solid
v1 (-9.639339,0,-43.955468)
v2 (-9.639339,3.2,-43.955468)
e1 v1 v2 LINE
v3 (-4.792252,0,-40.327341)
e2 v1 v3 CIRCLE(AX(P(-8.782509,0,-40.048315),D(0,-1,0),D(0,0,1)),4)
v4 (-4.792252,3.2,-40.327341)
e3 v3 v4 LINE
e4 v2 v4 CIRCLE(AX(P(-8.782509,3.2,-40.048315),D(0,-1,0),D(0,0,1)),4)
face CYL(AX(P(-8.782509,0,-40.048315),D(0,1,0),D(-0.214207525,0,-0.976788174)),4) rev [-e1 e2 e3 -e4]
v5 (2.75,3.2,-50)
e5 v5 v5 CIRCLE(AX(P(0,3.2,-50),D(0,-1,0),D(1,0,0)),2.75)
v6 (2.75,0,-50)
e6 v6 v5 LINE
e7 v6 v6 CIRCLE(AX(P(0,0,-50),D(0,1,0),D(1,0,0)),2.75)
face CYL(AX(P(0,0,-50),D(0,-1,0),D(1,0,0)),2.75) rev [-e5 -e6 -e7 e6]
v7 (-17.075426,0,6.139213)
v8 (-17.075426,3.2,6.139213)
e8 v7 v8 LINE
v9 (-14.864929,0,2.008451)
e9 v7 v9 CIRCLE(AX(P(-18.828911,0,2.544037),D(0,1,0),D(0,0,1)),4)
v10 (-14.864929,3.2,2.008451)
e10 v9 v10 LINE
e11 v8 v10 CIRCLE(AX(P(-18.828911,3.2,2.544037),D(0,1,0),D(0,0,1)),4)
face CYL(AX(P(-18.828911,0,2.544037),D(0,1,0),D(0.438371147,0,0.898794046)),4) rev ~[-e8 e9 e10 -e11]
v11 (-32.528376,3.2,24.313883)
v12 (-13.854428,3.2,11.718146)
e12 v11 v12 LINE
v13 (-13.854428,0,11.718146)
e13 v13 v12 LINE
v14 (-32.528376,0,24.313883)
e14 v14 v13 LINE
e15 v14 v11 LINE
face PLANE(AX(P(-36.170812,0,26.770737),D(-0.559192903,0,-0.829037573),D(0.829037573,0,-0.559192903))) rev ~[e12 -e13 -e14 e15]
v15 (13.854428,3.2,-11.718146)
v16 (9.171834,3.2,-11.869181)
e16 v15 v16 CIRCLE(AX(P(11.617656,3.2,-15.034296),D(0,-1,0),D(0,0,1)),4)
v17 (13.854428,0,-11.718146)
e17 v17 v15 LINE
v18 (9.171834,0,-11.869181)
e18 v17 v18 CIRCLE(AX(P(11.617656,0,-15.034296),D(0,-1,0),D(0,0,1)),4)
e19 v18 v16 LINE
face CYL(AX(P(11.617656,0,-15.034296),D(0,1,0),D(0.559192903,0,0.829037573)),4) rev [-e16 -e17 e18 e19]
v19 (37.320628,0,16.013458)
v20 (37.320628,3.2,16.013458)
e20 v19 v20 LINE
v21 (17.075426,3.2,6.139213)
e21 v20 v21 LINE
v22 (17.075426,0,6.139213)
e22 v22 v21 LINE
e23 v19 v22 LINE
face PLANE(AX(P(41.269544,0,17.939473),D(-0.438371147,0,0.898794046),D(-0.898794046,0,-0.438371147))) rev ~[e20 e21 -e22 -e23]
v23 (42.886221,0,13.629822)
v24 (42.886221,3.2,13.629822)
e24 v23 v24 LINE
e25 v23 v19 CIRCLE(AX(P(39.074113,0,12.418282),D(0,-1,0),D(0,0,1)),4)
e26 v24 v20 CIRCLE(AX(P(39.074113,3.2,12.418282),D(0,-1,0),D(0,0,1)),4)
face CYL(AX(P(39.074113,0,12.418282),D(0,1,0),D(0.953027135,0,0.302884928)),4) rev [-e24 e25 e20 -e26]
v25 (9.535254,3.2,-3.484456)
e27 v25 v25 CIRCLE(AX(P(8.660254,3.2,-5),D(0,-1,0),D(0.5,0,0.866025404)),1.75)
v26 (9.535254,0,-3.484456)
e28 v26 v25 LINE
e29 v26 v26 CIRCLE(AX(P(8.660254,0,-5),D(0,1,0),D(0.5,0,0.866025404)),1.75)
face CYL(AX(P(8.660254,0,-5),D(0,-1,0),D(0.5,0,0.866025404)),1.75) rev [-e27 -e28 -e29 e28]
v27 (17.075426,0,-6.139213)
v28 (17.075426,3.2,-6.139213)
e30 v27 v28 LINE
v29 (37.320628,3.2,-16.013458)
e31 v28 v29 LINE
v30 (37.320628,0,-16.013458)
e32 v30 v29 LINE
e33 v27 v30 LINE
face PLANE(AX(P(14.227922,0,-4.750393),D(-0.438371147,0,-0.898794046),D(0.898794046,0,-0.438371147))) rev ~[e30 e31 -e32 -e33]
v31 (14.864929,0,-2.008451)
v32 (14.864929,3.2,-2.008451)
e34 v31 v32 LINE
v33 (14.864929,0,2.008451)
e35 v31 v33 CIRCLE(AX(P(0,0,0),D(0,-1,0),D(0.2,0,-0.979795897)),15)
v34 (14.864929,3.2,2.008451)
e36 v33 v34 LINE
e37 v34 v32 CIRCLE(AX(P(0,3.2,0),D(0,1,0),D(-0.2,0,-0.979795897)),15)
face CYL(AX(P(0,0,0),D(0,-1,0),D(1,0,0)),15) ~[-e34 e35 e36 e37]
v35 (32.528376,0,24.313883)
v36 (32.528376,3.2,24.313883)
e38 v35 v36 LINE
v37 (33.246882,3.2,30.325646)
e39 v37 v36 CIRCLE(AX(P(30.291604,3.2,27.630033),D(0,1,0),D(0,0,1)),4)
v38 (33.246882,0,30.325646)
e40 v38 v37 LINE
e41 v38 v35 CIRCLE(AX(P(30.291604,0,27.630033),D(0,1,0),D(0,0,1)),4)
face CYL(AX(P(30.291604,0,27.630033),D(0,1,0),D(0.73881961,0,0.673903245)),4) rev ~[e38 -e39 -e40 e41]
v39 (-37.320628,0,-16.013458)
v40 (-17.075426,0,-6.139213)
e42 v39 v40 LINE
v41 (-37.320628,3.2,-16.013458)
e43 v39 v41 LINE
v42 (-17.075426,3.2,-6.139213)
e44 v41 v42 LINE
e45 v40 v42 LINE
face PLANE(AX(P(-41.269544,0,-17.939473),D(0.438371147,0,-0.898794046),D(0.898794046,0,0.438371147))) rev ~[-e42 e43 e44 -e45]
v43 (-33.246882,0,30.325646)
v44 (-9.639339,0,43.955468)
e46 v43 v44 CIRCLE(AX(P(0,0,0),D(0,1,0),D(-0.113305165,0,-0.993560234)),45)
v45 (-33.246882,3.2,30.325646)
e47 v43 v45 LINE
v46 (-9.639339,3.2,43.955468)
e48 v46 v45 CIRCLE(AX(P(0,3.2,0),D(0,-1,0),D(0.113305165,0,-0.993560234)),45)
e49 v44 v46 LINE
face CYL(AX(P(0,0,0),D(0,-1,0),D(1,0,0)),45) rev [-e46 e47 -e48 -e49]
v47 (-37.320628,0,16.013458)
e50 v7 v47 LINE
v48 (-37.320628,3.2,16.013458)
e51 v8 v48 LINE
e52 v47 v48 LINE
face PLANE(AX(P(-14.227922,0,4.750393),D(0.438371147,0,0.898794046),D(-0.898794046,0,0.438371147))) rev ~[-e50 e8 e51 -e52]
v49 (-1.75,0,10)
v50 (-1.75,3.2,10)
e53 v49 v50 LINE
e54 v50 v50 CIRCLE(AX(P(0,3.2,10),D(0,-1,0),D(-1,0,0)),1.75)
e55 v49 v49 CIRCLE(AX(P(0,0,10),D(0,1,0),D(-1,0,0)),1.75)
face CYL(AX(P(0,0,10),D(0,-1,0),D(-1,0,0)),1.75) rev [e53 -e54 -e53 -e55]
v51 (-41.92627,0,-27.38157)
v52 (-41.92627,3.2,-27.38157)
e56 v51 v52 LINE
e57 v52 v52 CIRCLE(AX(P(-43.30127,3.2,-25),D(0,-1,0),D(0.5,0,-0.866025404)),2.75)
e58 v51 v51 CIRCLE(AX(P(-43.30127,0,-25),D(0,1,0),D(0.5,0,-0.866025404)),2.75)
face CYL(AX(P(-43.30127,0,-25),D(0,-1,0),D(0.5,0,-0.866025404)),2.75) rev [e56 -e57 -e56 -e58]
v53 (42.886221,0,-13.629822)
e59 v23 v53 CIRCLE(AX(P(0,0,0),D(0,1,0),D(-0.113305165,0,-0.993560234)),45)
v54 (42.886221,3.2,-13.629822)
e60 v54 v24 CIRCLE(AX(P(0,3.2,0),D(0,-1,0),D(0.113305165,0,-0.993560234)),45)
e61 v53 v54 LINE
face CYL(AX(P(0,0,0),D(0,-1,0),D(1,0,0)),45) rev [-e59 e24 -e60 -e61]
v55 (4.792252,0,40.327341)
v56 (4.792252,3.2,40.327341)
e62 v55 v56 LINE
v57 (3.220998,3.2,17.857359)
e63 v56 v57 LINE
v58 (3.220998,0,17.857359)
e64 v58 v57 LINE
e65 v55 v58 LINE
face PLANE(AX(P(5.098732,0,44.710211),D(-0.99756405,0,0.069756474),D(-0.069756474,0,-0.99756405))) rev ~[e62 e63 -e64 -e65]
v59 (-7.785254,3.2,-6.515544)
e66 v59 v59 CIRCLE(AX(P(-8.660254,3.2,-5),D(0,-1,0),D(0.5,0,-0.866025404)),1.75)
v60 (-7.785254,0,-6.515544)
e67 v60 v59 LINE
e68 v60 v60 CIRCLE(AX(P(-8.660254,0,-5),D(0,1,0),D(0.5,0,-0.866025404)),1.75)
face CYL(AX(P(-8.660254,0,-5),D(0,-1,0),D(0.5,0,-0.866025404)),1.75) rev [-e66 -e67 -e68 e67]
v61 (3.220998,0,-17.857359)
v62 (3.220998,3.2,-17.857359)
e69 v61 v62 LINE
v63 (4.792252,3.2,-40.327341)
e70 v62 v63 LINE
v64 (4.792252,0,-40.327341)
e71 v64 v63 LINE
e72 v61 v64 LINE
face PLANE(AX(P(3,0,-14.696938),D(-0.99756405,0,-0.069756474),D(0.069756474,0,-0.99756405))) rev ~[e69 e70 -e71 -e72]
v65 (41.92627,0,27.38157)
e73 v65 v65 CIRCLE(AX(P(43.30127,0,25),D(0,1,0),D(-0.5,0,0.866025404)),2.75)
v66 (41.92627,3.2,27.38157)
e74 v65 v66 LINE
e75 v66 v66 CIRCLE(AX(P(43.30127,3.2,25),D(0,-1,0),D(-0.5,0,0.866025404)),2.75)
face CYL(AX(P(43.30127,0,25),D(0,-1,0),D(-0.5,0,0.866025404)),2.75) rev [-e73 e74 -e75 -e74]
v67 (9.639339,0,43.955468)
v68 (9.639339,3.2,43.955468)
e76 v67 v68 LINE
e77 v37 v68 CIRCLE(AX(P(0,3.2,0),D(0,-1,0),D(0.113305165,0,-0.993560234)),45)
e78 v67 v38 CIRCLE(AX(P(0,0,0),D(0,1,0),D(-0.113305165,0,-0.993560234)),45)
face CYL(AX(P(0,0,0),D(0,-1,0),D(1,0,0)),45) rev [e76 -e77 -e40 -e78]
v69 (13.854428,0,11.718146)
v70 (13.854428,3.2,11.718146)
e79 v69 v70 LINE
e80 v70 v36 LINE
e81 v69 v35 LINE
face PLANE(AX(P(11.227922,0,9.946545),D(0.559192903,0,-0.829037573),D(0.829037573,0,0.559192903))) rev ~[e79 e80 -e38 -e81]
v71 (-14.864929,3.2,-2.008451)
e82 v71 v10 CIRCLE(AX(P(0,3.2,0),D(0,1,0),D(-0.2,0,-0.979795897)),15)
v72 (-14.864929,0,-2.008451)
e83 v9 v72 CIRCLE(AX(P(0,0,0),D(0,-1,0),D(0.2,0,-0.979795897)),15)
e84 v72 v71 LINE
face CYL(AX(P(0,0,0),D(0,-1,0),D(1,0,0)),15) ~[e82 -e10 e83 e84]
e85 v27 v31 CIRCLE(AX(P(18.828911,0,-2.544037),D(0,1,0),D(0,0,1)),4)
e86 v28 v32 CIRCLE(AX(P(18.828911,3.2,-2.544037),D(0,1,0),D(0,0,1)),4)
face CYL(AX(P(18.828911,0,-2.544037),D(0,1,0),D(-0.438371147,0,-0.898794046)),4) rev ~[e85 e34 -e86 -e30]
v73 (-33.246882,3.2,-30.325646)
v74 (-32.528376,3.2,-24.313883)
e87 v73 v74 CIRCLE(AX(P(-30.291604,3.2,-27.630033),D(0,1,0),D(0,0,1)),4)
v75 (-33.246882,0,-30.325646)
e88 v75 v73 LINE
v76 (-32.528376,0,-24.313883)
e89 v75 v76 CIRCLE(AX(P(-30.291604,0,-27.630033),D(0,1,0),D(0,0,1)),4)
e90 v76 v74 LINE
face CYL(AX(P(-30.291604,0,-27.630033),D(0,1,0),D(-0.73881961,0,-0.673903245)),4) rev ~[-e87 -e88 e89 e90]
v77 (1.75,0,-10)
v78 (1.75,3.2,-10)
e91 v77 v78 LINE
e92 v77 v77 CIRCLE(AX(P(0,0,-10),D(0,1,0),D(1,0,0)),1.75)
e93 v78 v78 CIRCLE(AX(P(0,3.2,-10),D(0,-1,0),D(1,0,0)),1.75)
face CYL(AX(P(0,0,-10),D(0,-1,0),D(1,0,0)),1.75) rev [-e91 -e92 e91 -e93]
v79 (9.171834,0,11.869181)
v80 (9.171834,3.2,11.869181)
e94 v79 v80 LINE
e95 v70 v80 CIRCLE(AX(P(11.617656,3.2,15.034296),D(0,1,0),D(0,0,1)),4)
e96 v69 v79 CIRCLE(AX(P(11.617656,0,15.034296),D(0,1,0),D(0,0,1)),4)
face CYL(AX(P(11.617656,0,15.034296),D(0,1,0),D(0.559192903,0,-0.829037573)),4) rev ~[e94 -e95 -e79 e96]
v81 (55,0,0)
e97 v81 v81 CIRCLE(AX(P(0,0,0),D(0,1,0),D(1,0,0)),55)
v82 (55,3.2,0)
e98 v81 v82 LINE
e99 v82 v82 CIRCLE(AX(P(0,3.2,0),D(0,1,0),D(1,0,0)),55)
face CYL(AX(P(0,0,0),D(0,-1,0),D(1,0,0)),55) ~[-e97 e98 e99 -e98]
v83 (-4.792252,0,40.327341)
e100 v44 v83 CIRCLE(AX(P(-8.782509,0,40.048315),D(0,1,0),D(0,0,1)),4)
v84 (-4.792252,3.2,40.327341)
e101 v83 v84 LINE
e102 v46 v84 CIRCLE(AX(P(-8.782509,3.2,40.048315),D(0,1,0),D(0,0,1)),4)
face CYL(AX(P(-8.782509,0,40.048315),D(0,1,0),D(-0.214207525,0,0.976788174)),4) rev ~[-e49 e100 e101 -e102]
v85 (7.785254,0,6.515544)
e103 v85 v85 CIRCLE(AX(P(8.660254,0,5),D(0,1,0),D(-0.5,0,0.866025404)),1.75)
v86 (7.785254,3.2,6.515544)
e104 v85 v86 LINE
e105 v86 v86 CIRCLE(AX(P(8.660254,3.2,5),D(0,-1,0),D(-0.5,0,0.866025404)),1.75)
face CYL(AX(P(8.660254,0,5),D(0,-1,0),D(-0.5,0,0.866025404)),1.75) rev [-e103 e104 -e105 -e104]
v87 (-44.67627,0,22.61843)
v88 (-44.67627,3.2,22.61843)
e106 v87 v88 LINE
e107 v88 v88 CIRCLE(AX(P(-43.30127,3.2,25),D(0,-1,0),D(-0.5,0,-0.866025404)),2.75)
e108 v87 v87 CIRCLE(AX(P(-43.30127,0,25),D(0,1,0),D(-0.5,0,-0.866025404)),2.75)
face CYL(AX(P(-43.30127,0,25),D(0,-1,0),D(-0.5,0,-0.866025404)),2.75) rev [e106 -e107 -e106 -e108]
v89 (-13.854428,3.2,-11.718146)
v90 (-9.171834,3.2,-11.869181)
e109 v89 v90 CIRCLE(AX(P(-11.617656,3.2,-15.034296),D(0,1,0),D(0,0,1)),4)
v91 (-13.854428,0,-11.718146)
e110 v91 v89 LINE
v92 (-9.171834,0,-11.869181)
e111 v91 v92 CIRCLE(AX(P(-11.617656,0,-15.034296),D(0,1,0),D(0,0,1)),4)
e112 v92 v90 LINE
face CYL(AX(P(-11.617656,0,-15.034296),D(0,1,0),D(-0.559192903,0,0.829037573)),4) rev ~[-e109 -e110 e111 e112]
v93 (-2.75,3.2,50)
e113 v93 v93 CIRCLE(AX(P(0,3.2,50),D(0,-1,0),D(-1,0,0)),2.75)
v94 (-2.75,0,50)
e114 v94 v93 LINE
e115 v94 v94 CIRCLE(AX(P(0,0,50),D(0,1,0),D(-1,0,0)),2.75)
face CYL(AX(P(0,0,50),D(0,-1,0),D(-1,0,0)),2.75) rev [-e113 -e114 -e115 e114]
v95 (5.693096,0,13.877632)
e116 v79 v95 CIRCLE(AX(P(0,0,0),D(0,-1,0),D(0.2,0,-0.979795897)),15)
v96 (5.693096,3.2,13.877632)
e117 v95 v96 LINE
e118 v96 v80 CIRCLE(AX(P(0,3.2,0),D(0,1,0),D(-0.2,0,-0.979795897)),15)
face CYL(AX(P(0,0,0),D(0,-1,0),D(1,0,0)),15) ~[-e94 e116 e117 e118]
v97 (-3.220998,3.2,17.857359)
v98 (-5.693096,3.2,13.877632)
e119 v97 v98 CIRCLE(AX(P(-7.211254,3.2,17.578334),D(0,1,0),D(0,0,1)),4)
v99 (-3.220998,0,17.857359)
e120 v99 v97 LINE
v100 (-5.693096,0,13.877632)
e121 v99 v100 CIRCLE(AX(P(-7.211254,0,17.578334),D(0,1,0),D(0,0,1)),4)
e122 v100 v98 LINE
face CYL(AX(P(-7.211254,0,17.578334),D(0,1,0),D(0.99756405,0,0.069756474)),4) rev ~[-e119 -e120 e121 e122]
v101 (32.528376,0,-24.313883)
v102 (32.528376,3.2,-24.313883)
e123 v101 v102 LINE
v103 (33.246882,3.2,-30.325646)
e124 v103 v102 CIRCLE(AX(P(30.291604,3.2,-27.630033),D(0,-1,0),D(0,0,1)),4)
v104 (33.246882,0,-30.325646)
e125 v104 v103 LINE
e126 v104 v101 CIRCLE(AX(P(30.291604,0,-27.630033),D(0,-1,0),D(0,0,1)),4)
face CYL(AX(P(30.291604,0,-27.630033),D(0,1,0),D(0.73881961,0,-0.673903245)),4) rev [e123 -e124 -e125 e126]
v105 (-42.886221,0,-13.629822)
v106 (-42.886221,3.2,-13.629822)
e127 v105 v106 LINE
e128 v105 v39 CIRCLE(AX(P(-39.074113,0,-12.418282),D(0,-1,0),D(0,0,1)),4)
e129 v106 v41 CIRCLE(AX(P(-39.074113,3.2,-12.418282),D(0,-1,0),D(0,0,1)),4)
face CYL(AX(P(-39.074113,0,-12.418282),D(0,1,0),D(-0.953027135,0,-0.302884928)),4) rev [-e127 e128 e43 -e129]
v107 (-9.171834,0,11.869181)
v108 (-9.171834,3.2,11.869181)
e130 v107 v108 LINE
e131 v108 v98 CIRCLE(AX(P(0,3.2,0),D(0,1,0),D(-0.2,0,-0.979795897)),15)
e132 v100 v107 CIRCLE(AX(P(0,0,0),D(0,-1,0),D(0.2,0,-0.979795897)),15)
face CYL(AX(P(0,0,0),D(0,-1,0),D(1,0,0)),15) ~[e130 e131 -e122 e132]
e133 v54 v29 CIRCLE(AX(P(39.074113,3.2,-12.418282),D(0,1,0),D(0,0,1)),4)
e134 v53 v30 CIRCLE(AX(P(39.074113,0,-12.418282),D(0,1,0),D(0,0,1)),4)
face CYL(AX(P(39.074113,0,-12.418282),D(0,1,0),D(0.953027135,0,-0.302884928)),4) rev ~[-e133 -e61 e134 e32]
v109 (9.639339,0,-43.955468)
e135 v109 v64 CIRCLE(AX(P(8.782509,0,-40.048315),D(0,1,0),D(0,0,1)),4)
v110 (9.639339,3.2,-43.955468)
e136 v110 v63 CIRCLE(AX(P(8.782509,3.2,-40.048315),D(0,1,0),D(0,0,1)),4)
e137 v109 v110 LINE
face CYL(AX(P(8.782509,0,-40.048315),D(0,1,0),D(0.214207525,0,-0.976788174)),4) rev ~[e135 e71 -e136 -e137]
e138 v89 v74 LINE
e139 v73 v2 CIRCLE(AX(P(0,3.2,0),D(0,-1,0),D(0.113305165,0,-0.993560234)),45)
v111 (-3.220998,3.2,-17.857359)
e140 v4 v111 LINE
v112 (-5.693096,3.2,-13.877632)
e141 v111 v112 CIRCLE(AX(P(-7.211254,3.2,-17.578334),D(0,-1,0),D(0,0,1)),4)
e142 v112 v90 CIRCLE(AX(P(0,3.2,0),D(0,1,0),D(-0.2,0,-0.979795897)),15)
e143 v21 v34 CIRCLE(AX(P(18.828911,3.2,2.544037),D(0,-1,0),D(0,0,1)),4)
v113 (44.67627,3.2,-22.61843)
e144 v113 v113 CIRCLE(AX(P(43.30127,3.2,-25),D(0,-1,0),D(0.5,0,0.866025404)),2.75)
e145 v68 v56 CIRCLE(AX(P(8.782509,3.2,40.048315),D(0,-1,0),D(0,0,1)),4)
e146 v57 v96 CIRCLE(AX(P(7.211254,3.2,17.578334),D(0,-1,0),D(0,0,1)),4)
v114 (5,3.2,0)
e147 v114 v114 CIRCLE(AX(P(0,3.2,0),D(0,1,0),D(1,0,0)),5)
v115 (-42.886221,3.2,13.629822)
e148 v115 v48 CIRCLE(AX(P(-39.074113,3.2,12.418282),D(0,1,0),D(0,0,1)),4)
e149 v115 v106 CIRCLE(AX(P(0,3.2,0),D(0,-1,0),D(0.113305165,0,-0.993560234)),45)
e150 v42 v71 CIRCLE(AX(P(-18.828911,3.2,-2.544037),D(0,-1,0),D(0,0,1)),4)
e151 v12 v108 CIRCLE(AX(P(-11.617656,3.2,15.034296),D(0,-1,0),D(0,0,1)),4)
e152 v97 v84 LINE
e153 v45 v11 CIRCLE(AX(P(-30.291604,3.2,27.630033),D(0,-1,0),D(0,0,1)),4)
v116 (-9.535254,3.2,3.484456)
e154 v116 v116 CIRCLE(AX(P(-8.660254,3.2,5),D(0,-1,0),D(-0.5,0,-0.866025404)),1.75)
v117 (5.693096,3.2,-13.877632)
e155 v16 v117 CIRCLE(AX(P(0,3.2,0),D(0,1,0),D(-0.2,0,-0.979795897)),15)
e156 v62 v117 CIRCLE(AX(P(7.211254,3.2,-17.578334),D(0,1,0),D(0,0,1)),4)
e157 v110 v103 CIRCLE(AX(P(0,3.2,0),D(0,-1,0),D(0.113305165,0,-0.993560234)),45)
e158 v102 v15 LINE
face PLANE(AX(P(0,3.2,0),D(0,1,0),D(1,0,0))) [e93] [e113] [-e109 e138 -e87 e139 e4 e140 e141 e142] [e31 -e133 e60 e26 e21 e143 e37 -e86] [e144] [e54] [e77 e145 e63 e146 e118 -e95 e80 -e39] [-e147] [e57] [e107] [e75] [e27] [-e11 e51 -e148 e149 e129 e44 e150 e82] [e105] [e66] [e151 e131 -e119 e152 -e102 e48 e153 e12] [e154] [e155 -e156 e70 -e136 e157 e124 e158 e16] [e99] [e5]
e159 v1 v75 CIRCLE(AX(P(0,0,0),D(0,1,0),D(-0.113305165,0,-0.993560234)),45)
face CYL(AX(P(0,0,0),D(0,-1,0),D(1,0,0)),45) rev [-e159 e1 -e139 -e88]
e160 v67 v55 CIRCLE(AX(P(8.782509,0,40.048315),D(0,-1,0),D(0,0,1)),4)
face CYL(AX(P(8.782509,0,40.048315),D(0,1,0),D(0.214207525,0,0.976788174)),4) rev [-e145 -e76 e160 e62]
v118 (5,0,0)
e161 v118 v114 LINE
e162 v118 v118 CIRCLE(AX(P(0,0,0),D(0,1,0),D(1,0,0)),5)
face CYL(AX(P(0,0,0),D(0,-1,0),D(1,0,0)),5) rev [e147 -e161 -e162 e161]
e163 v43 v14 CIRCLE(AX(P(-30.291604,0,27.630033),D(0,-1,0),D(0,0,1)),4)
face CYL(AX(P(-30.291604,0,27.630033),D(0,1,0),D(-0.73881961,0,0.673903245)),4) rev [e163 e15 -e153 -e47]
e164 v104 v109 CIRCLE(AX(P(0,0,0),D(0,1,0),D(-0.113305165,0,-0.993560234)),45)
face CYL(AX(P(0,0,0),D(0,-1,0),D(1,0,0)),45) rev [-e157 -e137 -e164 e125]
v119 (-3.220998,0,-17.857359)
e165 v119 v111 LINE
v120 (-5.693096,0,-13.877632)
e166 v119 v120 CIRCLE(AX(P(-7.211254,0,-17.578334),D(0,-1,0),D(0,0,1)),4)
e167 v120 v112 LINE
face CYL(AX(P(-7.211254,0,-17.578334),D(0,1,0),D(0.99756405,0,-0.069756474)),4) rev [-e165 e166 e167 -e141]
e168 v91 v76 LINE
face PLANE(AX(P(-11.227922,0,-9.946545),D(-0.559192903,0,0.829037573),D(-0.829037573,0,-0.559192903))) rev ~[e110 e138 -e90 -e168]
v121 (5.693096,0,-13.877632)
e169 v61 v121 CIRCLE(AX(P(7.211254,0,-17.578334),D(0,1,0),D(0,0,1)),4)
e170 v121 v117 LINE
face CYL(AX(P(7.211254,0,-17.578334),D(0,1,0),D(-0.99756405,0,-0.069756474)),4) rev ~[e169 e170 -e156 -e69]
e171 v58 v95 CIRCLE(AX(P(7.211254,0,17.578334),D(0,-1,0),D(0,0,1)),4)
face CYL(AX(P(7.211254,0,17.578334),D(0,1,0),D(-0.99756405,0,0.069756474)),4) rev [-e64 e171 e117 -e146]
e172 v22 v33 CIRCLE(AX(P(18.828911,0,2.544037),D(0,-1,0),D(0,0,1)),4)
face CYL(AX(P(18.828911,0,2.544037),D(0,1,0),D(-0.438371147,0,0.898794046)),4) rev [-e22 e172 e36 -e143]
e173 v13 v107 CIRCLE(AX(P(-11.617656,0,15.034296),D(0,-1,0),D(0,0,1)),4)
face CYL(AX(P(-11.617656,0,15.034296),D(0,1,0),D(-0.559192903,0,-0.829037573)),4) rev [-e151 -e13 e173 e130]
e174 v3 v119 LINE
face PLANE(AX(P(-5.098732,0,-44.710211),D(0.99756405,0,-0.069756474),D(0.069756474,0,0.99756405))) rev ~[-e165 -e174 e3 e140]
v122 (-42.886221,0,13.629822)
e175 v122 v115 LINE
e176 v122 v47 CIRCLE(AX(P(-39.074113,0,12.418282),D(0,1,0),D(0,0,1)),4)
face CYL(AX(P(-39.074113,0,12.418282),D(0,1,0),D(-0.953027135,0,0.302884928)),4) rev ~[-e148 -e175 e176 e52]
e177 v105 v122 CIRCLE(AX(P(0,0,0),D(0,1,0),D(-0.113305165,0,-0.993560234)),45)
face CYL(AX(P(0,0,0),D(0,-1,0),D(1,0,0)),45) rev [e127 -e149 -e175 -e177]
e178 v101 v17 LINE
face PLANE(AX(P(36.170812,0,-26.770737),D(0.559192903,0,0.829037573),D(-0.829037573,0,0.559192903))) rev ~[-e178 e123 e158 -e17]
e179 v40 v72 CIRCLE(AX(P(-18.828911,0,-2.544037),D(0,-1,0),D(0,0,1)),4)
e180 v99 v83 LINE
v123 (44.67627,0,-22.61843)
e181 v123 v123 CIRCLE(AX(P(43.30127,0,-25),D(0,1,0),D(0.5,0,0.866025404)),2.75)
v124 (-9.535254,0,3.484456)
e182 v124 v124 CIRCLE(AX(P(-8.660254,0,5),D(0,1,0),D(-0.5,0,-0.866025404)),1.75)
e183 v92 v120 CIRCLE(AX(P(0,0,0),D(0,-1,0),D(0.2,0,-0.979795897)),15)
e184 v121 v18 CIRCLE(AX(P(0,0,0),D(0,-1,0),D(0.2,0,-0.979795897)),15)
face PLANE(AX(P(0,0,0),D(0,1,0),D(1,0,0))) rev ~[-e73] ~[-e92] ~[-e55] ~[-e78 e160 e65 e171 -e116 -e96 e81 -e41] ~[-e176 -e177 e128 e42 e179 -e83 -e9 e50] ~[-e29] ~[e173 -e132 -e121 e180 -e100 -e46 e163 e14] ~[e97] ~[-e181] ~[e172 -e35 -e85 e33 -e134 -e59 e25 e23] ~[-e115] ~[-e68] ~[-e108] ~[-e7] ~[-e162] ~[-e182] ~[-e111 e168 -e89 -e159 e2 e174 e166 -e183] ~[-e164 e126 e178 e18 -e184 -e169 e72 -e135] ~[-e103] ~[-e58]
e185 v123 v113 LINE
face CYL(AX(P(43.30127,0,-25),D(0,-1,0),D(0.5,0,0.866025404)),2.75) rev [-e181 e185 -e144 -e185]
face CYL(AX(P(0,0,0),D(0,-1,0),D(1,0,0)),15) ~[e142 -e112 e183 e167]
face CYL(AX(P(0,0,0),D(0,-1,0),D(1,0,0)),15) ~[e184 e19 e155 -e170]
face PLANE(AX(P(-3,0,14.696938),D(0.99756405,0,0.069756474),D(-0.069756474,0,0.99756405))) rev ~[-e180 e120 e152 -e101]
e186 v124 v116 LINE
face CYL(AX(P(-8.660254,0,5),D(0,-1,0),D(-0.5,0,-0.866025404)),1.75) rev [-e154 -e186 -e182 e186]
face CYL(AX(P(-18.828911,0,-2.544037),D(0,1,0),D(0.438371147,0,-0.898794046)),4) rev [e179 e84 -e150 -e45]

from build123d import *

# Parameters (mm, degrees)
SKETCH1_R                = 15
SKETCH1_R_2              = 5
BOSS_EXTRUDE1_DEPTH      = 3.2
SKETCH2_R                = 55
SKETCH2_R_2              = 45
BOSS_EXTRUDE2_DEPTH      = 3.2
BOSS_EXTRUDE3_DEPTH      = 3.2
SKETCH3_R                = 1.75
CUT_EXTRUDE2_DEPTH       = 4.2
SKETCH4_R                = 2.75
CUT_EXTRUDE3_DEPTH       = 4.2
FILLET1_R                = 4
CIRPATTERN1_COUNT        = 6
FILLET1_OF_CIRPATTERN1_R = 4
CIRPATTERN2_COUNT        = 6


with BuildPart() as part:
    # Sketch1 → Boss-Extrude1 (new body)
    with BuildSketch(Plane(origin=(0, 0, 0), x_dir=(1, 0, 0), z_dir=(0, 1, 0))):
        Circle(SKETCH1_R)
        Circle(SKETCH1_R_2, mode=Mode.SUBTRACT)
    extrude(amount=BOSS_EXTRUDE1_DEPTH)



with BuildPart() as body_2:
    # Sketch2 → Boss-Extrude2 (new body)
    with BuildSketch(Plane(origin=(0, 0, 0), x_dir=(1, 0, 0), z_dir=(0, 1, 0))):
        Circle(SKETCH2_R)
        Circle(SKETCH2_R_2, mode=Mode.SUBTRACT)
    extrude(amount=BOSS_EXTRUDE2_DEPTH)


with BuildPart() as part_1:
    add(part.part)

    add(body_2.part)  # Boss-Extrude3 merges body 2
    # Sketch5 → Boss-Extrude3 (add)
    with BuildSketch(Plane(origin=(0, 0, 0), x_dir=(1, 0, 0), z_dir=(0, 1, 0))):
        with BuildLine():
            Line((-5.098732434, 44.710210552), (-3, 14.696938457))
            ThreePointArc((-3, 14.696938457), (0, 15), (3, 14.696938457))
            Line((3, 14.696938457), (5.098732434, 44.710210552))
            ThreePointArc((5.098732434, 44.710210552), (0, 45), (-5.098732434, 44.710210552))
        make_face()
    boss_extrude3 = extrude(amount=BOSS_EXTRUDE3_DEPTH)

    # Sketch3 → Cut-Extrude2 (cut, through all)
    with BuildSketch(Plane(origin=(0, 0, 0), x_dir=(1, 0, 0), z_dir=(0, 1, 0))):
        with Locations((0, 10)):
            Circle(SKETCH3_R)
    cut_extrude2 = extrude(amount=CUT_EXTRUDE2_DEPTH, mode=Mode.SUBTRACT)

    # Sketch4 → Cut-Extrude3 (cut, through all)
    with BuildSketch(Plane(origin=(0, 0, 0), x_dir=(1, 0, 0), z_dir=(0, 1, 0))):
        with Locations((0, 50)):
            Circle(SKETCH4_R)
    cut_extrude3 = extrude(amount=CUT_EXTRUDE3_DEPTH, mode=Mode.SUBTRACT)

    # Fillet1
    fillet1_edges = [part_1.edges().sort_by_distance(p)[0] for p in [
        (5.098732434, 1.6, -44.710210552),
        (-5.098732434, 1.6, -44.710210552),
        (-3, 1.6, -14.696938457),
        (3, 1.6, -14.696938457),
    ]]
    fillet(fillet1_edges, radius=FILLET1_R)

    # CirPattern1: Boss-Extrude3, Cut-Extrude3 ×6 about axis
    cirpattern1_axis = Axis((0, 0, 0), (0, 1, 0))
    for i in range(1, CIRPATTERN1_COUNT):
        add(boss_extrude3.rotate(cirpattern1_axis, i * 360 / CIRPATTERN1_COUNT))
        add(cut_extrude3.rotate(cirpattern1_axis, i * 360 / CIRPATTERN1_COUNT), mode=Mode.SUBTRACT)

    # Fillet1 of CirPattern1
    fillet1_of_cirpattern1_edges = [part_1.edges().sort_by_distance(p)[0] for p in [
        (-36.170811929, 1.6, -26.77073709),
        (-41.269544363, 1.6, -17.939473461),
        (-14.227922061, 1.6, -4.750393017),
        (-11.227922061, 1.6, -9.94654544),
        (-41.269544363, 1.6, 17.939473461),
        (-36.170811929, 1.6, 26.77073709),
        (-11.227922061, 1.6, 9.94654544),
        (-14.227922061, 1.6, 4.750393017),
        (-5.098732434, 1.6, 44.710210552),
        (5.098732434, 1.6, 44.710210552),
        (3, 1.6, 14.696938457),
        (-3, 1.6, 14.696938457),
        (36.170811929, 1.6, 26.77073709),
        (41.269544363, 1.6, 17.939473461),
        (14.227922061, 1.6, 4.750393017),
        (11.227922061, 1.6, 9.94654544),
        (41.269544363, 1.6, -17.939473461),
        (36.170811929, 1.6, -26.77073709),
        (11.227922061, 1.6, -9.94654544),
        (14.227922061, 1.6, -4.750393017),
    ]]
    fillet(fillet1_of_cirpattern1_edges, radius=FILLET1_OF_CIRPATTERN1_R)

    # CirPattern2: Cut-Extrude2 ×6 about axis
    cirpattern2_axis = Axis((0, 0, 0), (0, 1, 0))
    for i in range(1, CIRPATTERN2_COUNT):
        add(cut_extrude2.rotate(cirpattern2_axis, i * 360 / CIRPATTERN2_COUNT), mode=Mode.SUBTRACT)


solid = part_1.part
